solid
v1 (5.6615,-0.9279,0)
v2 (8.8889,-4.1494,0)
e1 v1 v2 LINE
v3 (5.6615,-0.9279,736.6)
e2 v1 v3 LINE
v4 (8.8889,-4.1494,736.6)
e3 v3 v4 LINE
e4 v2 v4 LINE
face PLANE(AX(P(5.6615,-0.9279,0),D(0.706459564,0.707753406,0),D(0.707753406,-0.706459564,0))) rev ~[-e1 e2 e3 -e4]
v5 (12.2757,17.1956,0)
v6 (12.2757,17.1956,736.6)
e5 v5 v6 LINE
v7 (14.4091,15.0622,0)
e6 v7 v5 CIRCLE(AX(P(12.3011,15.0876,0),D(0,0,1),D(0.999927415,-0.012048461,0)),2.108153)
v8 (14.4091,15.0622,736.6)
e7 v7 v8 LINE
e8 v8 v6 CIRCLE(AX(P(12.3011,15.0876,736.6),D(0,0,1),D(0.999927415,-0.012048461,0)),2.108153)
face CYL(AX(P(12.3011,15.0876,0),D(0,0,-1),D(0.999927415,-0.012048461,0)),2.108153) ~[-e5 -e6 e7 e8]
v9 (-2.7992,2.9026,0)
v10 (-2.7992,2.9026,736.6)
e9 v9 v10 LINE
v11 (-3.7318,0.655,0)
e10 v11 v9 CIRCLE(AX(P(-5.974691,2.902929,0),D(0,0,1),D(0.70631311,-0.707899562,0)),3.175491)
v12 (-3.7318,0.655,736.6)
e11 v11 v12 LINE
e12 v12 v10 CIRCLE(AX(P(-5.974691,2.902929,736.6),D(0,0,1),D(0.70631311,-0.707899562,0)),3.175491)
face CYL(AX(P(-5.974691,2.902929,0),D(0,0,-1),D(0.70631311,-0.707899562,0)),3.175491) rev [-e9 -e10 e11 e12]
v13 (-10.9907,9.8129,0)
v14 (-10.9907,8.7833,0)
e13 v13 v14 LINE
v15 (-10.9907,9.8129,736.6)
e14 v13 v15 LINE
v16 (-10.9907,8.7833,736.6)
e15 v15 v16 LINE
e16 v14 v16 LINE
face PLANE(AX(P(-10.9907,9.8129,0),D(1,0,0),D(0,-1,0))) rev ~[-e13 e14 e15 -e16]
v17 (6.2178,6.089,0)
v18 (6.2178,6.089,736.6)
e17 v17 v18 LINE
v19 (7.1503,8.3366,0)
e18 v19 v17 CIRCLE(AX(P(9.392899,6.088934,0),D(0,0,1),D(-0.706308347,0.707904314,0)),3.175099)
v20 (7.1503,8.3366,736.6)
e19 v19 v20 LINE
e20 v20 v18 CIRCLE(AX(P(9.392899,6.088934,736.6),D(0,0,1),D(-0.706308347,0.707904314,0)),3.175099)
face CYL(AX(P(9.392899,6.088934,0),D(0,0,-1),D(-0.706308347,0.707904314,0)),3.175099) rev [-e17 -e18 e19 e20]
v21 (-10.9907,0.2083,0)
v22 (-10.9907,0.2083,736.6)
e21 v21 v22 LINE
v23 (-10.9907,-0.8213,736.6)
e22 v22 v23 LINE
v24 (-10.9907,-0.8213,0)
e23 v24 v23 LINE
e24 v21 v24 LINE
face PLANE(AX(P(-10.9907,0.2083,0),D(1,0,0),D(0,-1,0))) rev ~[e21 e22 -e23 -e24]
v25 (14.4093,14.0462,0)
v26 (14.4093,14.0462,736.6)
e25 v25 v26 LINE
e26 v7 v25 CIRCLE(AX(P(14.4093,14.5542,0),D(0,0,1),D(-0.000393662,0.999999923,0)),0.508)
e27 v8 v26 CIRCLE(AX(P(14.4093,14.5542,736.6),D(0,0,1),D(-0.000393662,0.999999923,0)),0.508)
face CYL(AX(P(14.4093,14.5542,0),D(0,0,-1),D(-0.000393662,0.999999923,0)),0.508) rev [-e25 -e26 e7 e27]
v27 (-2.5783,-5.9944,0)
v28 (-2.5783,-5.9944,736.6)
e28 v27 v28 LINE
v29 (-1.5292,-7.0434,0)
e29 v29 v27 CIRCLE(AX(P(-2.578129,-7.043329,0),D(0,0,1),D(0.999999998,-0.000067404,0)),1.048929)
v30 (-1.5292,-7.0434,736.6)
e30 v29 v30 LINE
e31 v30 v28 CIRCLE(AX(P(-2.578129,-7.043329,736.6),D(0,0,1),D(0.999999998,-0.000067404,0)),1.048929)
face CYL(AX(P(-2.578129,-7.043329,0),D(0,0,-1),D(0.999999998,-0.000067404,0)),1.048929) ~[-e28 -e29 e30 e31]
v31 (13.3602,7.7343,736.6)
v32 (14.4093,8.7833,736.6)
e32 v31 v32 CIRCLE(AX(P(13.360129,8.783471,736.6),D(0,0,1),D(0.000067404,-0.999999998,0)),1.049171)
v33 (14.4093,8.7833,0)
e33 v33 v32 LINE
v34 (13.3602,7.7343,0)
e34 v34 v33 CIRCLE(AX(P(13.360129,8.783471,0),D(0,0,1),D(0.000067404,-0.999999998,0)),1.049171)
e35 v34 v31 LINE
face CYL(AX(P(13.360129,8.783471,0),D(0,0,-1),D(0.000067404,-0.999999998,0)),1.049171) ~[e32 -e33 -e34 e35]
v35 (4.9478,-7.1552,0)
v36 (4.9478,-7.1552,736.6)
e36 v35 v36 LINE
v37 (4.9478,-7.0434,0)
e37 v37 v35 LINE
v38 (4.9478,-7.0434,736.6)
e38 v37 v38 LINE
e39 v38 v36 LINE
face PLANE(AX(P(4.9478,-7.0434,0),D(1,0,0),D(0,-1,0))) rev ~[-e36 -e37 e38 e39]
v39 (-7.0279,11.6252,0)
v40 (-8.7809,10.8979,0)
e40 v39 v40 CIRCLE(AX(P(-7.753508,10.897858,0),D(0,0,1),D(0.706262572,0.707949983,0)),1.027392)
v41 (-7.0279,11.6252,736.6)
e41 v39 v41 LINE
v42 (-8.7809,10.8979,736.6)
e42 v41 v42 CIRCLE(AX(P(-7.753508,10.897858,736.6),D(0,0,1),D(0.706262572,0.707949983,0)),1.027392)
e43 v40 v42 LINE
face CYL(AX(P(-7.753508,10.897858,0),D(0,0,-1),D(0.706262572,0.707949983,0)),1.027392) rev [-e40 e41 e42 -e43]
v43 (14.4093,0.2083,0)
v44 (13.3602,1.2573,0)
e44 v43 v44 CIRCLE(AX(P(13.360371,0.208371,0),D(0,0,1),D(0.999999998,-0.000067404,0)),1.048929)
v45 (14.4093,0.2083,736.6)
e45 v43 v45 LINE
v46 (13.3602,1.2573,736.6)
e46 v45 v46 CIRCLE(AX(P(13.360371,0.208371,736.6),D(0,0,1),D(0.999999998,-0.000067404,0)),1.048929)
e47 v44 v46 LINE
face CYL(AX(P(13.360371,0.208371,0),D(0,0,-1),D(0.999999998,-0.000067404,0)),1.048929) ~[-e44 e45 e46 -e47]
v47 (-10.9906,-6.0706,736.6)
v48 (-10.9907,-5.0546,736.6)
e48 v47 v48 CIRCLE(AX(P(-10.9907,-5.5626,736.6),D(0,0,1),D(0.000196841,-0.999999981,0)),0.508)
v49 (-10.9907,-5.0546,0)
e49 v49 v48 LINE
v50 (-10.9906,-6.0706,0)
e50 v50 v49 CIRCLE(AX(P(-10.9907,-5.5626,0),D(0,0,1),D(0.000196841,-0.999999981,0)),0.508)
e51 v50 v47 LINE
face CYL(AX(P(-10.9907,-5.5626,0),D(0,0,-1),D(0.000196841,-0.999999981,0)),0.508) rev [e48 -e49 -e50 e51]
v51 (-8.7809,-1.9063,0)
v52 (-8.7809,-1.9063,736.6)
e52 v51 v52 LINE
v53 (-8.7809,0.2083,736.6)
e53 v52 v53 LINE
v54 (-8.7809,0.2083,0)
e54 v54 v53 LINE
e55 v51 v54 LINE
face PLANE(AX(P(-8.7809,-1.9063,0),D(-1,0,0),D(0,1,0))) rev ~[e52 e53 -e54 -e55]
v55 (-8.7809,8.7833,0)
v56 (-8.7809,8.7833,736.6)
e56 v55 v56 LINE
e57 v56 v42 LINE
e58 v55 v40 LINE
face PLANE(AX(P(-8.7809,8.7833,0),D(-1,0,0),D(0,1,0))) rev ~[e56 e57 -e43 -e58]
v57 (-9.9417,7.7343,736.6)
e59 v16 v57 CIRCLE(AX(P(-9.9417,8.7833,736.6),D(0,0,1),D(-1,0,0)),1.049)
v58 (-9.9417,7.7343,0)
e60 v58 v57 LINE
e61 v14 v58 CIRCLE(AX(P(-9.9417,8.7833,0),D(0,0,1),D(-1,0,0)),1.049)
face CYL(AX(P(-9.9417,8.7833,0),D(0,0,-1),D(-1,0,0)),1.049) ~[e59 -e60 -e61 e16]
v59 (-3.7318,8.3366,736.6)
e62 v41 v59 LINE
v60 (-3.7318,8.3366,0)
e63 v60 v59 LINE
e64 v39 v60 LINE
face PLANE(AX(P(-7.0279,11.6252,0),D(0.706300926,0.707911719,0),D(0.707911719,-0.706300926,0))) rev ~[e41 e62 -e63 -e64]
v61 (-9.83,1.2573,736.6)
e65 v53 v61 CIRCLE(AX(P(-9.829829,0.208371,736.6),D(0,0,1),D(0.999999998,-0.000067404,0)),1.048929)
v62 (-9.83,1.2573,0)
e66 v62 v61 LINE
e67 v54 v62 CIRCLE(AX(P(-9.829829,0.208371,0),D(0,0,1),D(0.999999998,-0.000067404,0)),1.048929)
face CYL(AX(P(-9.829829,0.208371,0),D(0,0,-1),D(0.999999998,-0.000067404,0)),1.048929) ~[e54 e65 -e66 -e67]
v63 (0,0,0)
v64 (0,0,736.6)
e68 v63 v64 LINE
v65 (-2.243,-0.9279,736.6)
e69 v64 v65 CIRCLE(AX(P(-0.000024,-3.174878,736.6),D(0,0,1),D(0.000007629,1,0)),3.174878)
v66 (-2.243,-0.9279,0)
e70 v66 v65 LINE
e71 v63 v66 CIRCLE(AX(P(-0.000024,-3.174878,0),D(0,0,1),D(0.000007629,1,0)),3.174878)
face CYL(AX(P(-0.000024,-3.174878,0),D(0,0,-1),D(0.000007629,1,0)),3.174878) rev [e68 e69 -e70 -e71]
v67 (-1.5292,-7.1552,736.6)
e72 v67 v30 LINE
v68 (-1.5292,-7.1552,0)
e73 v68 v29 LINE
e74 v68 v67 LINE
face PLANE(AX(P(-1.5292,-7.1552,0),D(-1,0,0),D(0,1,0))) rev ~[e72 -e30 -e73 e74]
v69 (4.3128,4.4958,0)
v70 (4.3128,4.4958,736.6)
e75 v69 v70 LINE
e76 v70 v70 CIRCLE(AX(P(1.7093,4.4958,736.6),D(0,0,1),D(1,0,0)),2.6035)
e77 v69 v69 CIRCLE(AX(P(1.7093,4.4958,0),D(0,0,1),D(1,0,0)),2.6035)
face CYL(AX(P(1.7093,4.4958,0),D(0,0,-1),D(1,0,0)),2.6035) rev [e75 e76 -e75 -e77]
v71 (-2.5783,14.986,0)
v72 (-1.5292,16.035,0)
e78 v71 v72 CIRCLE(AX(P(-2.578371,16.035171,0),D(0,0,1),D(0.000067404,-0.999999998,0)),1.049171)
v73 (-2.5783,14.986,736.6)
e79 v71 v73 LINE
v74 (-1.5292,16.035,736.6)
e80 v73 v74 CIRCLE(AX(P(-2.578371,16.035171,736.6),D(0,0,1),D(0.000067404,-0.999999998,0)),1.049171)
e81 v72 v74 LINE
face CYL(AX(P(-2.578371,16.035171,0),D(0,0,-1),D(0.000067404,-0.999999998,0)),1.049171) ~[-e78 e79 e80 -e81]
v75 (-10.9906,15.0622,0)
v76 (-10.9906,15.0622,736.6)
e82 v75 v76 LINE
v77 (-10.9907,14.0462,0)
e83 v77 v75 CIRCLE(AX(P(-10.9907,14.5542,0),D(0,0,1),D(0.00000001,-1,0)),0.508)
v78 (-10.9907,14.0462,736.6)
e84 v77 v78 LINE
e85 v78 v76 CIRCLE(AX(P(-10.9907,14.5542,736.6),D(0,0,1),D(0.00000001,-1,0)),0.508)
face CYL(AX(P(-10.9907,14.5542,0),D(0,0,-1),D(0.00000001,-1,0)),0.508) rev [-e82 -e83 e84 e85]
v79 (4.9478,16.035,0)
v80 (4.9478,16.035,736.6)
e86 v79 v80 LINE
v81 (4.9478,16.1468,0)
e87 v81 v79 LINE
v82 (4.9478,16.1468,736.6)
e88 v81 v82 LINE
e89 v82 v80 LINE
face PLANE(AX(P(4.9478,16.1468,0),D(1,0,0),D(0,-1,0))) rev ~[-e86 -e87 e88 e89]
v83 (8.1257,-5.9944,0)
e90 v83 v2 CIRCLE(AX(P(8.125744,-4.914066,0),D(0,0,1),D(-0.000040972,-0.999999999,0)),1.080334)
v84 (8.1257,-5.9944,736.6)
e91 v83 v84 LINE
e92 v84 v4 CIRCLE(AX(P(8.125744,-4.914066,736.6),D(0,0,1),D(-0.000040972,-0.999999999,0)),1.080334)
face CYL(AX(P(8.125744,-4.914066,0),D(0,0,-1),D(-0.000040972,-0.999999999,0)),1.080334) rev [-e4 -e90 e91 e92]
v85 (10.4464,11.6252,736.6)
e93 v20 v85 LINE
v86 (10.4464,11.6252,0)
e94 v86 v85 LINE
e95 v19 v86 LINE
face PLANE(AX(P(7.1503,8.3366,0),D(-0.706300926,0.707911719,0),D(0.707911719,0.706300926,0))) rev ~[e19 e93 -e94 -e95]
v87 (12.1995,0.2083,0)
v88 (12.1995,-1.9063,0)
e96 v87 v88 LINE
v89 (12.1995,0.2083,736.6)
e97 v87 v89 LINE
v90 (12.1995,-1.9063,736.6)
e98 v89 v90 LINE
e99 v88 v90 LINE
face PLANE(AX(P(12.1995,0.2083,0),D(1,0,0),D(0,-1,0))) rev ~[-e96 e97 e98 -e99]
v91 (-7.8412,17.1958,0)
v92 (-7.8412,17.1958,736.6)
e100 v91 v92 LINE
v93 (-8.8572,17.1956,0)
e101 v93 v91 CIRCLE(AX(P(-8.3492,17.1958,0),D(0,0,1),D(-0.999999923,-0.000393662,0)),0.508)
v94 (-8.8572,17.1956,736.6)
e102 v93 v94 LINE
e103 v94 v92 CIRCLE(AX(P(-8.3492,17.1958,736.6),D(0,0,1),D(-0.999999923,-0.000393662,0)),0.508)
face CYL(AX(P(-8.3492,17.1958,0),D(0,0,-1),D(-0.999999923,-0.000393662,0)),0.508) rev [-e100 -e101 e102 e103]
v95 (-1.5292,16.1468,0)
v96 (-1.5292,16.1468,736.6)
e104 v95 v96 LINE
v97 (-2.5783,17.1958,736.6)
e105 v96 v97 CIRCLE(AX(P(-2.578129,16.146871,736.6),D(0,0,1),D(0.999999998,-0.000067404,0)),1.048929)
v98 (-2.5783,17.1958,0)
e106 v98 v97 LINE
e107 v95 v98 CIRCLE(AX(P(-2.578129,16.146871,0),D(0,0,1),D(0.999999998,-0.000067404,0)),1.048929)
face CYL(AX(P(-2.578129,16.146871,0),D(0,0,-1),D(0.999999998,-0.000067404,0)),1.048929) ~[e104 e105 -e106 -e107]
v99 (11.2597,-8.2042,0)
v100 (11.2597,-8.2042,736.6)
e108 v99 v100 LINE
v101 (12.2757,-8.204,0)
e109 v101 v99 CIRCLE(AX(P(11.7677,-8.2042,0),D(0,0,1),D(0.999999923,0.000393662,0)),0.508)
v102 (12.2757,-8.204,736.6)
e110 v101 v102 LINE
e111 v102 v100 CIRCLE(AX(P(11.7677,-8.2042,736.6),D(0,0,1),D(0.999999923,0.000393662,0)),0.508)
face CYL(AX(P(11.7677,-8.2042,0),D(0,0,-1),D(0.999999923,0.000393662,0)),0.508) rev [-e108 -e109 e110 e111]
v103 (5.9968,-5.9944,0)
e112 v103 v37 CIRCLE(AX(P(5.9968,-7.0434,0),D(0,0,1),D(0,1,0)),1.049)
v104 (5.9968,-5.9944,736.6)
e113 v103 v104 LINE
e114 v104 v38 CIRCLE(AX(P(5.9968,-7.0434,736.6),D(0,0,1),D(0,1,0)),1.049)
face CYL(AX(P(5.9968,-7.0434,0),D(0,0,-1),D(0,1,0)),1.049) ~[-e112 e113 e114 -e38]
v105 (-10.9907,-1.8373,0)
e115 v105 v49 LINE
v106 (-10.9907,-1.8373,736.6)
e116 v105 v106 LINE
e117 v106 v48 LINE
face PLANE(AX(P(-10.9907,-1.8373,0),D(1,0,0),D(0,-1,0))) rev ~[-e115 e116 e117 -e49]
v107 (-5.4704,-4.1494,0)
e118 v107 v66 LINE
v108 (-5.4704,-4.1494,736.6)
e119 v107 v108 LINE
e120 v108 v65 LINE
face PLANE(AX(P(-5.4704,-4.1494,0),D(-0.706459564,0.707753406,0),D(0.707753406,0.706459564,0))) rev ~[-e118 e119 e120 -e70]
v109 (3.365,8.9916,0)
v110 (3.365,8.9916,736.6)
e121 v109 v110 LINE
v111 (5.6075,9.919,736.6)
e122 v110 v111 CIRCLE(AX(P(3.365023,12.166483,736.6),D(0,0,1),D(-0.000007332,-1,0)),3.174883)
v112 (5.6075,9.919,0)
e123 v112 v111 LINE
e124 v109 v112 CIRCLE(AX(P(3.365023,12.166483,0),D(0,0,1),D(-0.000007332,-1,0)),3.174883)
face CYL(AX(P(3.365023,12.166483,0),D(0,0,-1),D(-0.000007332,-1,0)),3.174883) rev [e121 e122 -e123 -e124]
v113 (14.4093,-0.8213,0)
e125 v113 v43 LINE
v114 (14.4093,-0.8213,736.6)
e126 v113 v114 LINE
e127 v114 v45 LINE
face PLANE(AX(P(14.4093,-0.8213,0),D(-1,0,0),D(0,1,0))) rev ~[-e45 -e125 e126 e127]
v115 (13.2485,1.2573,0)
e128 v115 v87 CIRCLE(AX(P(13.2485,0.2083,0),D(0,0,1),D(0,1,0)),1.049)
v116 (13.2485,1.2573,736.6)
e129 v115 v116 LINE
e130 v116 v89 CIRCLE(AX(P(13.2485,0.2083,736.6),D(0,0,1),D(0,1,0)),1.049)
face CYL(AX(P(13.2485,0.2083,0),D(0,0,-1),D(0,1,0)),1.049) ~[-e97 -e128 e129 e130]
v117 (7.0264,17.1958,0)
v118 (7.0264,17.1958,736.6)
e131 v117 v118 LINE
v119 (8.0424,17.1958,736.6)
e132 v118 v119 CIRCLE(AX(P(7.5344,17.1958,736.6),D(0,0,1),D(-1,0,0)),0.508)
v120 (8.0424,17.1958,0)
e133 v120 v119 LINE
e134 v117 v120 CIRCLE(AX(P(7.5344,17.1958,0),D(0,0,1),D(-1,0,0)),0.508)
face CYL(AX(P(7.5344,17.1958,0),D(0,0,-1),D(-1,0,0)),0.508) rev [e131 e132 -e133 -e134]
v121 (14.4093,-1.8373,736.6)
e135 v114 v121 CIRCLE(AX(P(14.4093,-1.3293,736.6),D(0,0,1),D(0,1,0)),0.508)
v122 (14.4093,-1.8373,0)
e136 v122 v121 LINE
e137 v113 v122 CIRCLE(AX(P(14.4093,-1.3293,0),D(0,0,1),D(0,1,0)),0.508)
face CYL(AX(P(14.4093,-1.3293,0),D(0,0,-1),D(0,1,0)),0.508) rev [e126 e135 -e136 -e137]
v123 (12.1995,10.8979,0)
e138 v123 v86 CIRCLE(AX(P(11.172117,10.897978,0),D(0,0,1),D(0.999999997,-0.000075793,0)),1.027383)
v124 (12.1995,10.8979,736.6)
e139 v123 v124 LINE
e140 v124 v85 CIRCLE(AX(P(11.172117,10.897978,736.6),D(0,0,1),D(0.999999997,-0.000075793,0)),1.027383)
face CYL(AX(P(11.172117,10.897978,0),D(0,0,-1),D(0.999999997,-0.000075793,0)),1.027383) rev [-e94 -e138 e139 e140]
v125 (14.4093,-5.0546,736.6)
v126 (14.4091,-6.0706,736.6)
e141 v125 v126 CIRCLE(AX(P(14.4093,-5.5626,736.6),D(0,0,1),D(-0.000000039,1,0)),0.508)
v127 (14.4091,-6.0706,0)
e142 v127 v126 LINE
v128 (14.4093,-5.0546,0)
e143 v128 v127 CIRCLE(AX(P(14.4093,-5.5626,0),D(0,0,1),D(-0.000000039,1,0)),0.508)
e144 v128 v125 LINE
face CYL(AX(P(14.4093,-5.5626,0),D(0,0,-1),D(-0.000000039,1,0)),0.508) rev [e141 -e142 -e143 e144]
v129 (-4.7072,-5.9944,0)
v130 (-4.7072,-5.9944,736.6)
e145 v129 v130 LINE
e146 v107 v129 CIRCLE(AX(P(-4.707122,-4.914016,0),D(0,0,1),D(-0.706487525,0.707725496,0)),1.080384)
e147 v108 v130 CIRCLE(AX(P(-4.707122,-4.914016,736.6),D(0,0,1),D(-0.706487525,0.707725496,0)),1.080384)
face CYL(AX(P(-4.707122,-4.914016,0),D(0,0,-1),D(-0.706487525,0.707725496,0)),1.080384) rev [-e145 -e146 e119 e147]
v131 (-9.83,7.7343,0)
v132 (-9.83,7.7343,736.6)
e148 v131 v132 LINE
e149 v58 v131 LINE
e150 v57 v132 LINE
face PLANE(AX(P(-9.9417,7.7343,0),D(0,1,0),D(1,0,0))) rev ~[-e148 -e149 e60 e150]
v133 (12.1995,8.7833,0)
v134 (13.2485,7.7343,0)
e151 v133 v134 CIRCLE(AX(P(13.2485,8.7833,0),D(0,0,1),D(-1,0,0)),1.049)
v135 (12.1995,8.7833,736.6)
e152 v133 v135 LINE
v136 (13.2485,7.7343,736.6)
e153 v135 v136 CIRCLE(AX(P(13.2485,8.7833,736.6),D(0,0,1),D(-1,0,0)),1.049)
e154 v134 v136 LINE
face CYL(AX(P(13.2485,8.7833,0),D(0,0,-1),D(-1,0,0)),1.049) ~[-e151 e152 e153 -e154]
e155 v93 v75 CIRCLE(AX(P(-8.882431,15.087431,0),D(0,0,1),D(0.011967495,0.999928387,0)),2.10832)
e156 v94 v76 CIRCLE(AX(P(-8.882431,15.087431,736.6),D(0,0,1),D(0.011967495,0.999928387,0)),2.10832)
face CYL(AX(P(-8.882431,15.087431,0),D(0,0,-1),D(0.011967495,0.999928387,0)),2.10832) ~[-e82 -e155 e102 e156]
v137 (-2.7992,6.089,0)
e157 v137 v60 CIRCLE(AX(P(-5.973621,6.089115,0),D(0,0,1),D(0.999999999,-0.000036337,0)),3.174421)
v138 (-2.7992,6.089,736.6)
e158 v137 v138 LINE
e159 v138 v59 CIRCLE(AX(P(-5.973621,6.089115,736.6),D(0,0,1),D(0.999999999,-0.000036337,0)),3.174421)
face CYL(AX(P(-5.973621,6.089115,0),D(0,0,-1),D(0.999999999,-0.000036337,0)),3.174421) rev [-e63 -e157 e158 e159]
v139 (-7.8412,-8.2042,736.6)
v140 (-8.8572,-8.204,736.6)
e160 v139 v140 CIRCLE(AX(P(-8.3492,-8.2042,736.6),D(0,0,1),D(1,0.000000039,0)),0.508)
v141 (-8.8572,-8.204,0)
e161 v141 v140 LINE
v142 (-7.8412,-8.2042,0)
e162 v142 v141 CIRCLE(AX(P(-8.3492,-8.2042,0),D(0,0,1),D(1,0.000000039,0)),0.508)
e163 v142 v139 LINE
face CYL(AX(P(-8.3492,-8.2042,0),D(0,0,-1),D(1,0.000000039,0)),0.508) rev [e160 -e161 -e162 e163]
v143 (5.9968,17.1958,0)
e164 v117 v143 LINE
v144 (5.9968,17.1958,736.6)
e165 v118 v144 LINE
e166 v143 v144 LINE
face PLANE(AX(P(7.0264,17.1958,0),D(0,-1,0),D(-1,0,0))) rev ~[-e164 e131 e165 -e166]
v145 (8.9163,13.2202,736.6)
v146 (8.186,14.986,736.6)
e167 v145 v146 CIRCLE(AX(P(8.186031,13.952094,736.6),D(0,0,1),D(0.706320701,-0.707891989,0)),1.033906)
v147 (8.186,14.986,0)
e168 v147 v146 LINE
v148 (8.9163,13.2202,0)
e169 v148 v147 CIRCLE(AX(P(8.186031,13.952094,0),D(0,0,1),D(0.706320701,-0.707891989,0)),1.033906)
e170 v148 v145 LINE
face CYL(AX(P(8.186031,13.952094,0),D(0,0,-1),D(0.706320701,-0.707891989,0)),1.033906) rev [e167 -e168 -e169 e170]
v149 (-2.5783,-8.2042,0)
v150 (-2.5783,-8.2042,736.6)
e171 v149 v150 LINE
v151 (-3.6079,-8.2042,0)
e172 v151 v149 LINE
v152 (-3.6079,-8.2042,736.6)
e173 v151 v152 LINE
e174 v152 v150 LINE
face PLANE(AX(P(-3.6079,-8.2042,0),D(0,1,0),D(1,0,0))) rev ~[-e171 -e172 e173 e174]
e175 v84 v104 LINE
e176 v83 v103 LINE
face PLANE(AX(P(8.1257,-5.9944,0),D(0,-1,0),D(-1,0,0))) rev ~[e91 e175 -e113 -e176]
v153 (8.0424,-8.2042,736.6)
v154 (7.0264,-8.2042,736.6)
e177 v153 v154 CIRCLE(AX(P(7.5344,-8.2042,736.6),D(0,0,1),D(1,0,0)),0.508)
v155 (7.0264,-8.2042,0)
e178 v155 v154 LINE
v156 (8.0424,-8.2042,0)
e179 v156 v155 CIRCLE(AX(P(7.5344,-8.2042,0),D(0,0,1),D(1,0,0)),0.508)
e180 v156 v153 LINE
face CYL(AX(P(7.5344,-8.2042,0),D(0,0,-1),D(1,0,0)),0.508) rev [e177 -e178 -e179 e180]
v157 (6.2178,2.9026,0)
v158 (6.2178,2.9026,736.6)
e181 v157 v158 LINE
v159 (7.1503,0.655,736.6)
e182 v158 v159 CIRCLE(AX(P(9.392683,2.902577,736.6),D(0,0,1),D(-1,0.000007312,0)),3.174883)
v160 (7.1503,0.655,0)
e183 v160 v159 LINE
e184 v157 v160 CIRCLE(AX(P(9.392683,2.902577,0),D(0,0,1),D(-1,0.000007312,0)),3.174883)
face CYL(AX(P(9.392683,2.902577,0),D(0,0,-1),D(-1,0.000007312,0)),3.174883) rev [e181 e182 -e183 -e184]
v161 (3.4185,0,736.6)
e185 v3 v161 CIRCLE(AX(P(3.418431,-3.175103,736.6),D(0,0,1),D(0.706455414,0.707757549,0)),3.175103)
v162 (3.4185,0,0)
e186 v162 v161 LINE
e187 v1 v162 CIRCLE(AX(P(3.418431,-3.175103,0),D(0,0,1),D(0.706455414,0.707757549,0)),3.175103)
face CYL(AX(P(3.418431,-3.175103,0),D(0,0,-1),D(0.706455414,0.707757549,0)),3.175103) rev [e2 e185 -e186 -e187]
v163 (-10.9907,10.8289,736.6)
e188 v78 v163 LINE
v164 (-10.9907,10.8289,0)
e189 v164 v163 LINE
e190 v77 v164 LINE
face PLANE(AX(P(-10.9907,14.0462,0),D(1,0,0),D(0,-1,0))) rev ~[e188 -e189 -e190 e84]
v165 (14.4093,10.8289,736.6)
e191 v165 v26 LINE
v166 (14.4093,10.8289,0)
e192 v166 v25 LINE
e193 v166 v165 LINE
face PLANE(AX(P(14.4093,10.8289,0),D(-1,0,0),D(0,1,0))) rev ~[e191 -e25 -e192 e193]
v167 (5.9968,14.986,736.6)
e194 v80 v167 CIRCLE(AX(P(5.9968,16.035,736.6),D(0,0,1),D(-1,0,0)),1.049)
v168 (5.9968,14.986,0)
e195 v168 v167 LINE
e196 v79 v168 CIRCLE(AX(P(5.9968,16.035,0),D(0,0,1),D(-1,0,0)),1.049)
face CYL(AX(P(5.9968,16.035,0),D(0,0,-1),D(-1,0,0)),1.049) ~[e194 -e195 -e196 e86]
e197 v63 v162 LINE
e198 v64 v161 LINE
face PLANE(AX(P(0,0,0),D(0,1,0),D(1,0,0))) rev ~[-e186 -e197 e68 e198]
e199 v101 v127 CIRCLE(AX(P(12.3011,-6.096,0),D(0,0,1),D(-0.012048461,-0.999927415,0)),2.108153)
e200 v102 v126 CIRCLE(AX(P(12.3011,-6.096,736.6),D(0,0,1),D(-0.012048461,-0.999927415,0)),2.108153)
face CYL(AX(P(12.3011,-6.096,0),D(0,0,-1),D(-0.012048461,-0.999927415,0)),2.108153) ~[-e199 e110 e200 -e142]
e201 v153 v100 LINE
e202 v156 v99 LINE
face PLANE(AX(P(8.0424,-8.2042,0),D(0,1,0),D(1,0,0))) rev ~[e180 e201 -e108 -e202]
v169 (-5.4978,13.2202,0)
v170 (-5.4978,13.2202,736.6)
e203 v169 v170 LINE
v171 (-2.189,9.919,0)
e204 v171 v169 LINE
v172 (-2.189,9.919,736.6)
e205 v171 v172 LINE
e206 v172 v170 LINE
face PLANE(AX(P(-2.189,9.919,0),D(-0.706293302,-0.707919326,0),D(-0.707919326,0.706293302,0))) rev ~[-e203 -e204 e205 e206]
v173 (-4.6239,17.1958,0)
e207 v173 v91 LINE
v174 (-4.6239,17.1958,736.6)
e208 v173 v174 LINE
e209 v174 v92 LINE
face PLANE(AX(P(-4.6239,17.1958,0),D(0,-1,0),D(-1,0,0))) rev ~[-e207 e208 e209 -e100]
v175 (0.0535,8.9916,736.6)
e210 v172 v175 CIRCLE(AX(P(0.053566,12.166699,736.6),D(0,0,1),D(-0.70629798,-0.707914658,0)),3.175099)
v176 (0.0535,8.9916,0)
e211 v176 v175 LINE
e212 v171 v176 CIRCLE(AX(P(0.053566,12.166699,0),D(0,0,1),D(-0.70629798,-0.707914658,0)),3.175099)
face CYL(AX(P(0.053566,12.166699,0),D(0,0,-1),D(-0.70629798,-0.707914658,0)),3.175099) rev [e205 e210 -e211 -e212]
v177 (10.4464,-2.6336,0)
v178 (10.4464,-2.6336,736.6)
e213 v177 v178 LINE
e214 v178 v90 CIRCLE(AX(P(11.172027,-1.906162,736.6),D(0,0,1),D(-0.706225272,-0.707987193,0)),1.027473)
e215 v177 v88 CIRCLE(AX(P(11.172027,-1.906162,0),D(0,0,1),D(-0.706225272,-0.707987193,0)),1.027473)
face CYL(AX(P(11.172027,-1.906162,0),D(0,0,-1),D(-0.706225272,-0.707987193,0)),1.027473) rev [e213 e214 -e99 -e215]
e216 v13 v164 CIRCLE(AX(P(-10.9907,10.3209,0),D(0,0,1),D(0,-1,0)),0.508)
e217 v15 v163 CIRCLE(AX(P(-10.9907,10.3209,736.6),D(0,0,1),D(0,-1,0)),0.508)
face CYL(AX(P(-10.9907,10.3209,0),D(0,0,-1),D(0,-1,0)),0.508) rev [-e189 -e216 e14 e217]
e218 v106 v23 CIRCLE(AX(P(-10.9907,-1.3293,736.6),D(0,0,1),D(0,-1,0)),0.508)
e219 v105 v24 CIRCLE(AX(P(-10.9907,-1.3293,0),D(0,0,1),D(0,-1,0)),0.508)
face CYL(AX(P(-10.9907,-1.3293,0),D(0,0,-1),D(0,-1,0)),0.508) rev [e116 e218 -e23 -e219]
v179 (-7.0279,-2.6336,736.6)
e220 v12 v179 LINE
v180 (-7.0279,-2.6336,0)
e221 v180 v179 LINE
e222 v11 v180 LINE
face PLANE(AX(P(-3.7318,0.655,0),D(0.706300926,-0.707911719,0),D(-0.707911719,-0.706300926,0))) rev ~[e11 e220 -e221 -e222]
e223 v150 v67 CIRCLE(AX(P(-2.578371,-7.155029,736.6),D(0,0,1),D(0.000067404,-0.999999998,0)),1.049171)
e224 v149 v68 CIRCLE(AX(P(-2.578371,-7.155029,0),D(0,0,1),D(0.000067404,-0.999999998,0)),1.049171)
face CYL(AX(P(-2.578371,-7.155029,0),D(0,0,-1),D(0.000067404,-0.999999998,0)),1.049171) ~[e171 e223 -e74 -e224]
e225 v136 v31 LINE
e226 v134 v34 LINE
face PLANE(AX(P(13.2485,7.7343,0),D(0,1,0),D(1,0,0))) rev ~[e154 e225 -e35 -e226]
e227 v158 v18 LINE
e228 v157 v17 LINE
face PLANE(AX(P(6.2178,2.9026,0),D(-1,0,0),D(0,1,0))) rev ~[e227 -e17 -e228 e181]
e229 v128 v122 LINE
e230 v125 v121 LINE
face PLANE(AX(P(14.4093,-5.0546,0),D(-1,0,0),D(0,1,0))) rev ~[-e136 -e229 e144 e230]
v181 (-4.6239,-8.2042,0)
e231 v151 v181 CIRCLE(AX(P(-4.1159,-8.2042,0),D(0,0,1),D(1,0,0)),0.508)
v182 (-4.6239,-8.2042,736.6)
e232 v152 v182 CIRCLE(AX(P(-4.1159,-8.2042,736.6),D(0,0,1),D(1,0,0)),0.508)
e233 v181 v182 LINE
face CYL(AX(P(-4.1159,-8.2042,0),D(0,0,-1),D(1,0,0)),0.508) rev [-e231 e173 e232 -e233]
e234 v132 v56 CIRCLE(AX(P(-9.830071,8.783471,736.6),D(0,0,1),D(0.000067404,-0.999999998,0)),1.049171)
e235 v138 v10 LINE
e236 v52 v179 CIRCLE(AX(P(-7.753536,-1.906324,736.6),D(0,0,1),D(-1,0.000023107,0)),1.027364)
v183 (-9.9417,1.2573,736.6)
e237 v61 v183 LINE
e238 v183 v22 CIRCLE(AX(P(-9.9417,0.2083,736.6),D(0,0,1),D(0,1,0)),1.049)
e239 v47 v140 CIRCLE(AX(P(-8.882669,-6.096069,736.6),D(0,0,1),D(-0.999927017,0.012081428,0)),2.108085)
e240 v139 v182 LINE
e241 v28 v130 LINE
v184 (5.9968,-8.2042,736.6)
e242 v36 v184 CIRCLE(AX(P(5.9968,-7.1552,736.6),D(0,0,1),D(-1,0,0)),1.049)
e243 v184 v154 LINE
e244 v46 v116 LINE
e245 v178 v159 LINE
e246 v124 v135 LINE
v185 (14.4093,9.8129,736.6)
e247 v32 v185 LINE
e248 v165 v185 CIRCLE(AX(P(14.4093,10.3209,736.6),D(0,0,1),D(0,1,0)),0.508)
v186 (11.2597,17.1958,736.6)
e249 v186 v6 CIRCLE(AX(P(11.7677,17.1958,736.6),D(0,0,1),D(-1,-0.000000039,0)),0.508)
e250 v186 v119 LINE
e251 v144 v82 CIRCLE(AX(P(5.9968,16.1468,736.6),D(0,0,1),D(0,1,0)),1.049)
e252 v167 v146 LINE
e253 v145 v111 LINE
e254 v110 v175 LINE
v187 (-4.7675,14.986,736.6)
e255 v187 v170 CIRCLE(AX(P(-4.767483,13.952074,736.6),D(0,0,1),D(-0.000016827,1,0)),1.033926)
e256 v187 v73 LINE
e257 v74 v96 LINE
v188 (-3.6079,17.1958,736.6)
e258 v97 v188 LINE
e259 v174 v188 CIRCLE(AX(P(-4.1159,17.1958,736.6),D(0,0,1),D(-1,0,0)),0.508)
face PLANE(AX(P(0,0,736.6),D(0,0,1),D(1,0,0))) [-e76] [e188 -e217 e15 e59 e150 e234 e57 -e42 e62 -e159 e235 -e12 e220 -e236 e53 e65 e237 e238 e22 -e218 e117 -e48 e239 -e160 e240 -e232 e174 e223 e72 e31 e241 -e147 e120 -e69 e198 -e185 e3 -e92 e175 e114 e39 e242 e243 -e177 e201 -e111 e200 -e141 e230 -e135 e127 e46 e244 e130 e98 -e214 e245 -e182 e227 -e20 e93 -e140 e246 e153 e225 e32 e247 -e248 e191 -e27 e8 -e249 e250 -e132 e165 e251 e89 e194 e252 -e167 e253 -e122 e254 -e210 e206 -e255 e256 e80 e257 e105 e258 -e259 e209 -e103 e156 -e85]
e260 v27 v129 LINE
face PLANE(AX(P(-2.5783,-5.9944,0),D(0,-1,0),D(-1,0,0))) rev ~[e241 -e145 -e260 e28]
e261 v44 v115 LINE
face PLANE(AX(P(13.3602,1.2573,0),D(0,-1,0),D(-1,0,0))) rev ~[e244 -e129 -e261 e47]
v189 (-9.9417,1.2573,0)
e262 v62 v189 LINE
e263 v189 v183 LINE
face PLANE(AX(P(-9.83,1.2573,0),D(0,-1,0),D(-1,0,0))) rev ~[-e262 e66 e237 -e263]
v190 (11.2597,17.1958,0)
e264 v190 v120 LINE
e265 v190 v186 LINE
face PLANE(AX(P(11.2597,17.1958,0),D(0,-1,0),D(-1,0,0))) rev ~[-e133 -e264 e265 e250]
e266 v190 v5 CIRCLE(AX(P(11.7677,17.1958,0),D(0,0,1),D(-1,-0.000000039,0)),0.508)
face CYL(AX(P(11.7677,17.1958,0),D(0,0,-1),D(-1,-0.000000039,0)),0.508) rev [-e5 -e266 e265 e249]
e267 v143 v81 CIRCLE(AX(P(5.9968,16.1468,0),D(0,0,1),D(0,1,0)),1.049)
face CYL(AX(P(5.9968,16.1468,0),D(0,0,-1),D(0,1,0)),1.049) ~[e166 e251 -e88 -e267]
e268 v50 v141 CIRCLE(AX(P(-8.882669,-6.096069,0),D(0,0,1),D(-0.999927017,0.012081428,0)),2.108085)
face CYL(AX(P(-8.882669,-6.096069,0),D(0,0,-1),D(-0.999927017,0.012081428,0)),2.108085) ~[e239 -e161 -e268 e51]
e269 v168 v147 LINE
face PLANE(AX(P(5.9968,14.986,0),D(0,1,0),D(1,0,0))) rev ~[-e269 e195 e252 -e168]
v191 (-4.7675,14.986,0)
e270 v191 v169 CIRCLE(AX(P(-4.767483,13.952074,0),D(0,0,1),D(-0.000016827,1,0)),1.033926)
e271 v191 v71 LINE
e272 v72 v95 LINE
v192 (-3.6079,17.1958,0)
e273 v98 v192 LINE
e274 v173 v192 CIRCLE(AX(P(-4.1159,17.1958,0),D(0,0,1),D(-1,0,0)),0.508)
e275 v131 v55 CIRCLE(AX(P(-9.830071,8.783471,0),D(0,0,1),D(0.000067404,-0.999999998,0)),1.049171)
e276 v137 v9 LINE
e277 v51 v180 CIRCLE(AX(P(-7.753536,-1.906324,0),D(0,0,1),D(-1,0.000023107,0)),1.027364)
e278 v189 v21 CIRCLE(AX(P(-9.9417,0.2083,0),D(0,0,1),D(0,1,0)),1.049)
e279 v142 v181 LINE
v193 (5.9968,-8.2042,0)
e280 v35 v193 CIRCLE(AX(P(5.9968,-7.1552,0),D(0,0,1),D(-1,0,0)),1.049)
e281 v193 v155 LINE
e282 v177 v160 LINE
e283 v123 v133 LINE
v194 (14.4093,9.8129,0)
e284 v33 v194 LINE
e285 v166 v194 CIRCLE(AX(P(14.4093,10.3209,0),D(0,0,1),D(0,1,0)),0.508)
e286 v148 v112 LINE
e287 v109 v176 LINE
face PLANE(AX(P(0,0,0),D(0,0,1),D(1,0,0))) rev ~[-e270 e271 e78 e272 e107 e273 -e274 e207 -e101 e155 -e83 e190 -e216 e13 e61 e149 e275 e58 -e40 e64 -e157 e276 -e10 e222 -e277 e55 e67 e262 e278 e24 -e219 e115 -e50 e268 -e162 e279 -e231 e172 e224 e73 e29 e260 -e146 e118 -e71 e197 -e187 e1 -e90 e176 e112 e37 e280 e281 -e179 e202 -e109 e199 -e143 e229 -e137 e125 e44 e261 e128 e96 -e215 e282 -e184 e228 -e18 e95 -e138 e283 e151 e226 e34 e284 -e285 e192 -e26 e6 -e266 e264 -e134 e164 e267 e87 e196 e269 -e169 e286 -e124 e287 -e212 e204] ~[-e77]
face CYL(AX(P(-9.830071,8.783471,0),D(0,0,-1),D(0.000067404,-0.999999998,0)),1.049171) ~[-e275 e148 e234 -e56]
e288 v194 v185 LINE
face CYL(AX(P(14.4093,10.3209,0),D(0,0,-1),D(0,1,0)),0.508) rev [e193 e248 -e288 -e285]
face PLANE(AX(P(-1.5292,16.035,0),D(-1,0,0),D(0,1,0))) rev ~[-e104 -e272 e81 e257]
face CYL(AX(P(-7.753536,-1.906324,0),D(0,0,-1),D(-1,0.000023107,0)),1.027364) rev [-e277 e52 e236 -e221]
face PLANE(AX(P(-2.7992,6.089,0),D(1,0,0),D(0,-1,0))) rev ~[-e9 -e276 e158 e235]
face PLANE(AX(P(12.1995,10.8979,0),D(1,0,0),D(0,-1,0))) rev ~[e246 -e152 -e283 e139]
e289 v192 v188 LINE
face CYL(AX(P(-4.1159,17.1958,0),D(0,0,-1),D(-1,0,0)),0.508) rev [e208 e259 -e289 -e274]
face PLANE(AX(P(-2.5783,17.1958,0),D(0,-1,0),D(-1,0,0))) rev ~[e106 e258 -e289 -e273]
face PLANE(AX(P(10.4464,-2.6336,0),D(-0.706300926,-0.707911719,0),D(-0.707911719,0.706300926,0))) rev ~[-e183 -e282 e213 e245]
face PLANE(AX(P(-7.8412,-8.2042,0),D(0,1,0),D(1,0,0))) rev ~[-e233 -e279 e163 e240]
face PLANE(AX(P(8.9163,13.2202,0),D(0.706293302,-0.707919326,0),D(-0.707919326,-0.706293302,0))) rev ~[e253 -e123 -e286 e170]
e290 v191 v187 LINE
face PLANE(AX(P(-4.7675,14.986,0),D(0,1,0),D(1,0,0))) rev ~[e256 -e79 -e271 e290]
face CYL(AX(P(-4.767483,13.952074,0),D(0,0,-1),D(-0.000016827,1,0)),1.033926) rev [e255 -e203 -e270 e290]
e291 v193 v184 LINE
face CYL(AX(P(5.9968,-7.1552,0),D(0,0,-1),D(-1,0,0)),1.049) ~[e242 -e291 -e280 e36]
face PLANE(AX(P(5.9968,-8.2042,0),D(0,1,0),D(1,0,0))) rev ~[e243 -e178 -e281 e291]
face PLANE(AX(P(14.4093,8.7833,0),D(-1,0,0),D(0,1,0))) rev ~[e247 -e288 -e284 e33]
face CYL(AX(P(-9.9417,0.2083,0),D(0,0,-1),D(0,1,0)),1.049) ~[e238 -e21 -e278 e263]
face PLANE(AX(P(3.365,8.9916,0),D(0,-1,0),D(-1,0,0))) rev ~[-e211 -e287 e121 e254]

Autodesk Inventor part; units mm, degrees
ref_plane "YZ Plane" through (0, 0, 0) normal (1, 0, 0) x (0, 1, 0)
ref_plane "XZ Plane" through (0, 0, 0) normal (0, 1, 0) x (-1, 0, 0)
ref_plane "XY Plane" through (0, 0, 0) normal (0, 0, 1) x (1, 0, 0)
sketch "Sketch1" plane through (0, 0, 0) normal (0, 0, 1) x (1, 0, 0)
  arc A0 (-5.4704, -4.1494) -> (-4.7072, -5.9944) centre (-4.7072, -4.914) ccw
  line L0 (-5.4704, -4.1494) -> (-2.243, -0.9279)
  arc A1 (0, 0) -> (-2.243, -0.9279) centre (0, -3.175) ccw
  line L1 (0, 0) -> (3.4185, 0)
  arc A2 (5.6615, -0.9279) -> (3.4185, 0) centre (3.4185, -3.175) ccw
  line L2 (5.6615, -0.9279) -> (8.8889, -4.1494)
  arc A3 (8.1257, -5.9944) -> (8.8889, -4.1494) centre (8.1257, -4.914) ccw
  line L3 (8.1257, -5.9944) -> (5.9968, -5.9944)
  arc A4 (5.9968, -5.9944) -> (4.9478, -7.0434) centre (5.9968, -7.0434) ccw
  line L4 (4.9478, -7.0434) -> (4.9478, -7.1552)
  arc A5 (4.9478, -7.1552) -> (5.9968, -8.2042) centre (5.9968, -7.1552) ccw
  line L5 (5.9968, -8.2042) -> (7.0264, -8.2042)
  arc A6 (8.0424, -8.2042) -> (7.0264, -8.2042) centre (7.5344, -8.2042) ccw
  line L6 (8.0424, -8.2042) -> (11.2597, -8.2042)
  arc A7 (12.2757, -8.204) -> (11.2597, -8.2042) centre (11.7677, -8.2042) ccw
  arc A8 (12.2757, -8.204) -> (14.4091, -6.0706) centre (12.3011, -6.096) ccw
  arc A9 (14.4093, -5.0546) -> (14.4091, -6.0706) centre (14.4093, -5.5626) ccw
  line L7 (14.4093, -5.0546) -> (14.4093, -1.8373)
  arc A10 (14.4093, -0.8213) -> (14.4093, -1.8373) centre (14.4093, -1.3293) ccw
  line L8 (14.4093, -0.8213) -> (14.4093, 0.2083)
  arc A11 (14.4093, 0.2083) -> (13.3602, 1.2573) centre (13.3602, 0.2083) ccw
  line L9 (13.3602, 1.2573) -> (13.2485, 1.2573)
  arc A12 (13.2485, 1.2573) -> (12.1995, 0.2083) centre (13.2485, 0.2083) ccw
  line L10 (12.1995, 0.2083) -> (12.1995, -1.9063)
  arc A13 (10.4464, -2.6336) -> (12.1995, -1.9063) centre (11.172, -1.9063) ccw
  line L11 (10.4464, -2.6336) -> (7.1503, 0.655)
  arc A14 (6.2178, 2.9026) -> (7.1503, 0.655) centre (9.3928, 2.9026) ccw
  line L12 (6.2178, 2.9026) -> (6.2178, 6.089)
  arc A15 (7.1503, 8.3366) -> (6.2178, 6.089) centre (9.3928, 6.089) ccw
  line L13 (7.1503, 8.3366) -> (10.4464, 11.6252)
  arc A16 (12.1995, 10.8979) -> (10.4464, 11.6252) centre (11.172, 10.8979) ccw
  line L14 (12.1995, 10.8979) -> (12.1995, 8.7833)
  arc A17 (12.1995, 8.7833) -> (13.2485, 7.7343) centre (13.2485, 8.7833) ccw
  line L15 (13.2485, 7.7343) -> (13.3602, 7.7343)
  arc A18 (13.3602, 7.7343) -> (14.4093, 8.7833) centre (13.3602, 8.7833) ccw
  line L16 (14.4093, 8.7833) -> (14.4093, 9.8129)
  arc A19 (14.4093, 10.8289) -> (14.4093, 9.8129) centre (14.4093, 10.3209) ccw
  line L17 (14.4093, 10.8289) -> (14.4093, 14.0462)
  arc A20 (14.4091, 15.0622) -> (14.4093, 14.0462) centre (14.4093, 14.5542) ccw
  arc A21 (14.4091, 15.0622) -> (12.2757, 17.1956) centre (12.3011, 15.0876) ccw
  arc A22 (11.2597, 17.1958) -> (12.2757, 17.1956) centre (11.7677, 17.1958) ccw
  line L18 (11.2597, 17.1958) -> (8.0424, 17.1958)
  arc A23 (7.0264, 17.1958) -> (8.0424, 17.1958) centre (7.5344, 17.1958) ccw
  line L19 (7.0264, 17.1958) -> (5.9968, 17.1958)
  arc A24 (5.9968, 17.1958) -> (4.9478, 16.1468) centre (5.9968, 16.1468) ccw
  line L20 (4.9478, 16.1468) -> (4.9478, 16.035)
  arc A25 (4.9478, 16.035) -> (5.9968, 14.986) centre (5.9968, 16.035) ccw
  line L21 (5.9968, 14.986) -> (8.186, 14.986)
  arc A26 (8.9163, 13.2202) -> (8.186, 14.986) centre (8.186, 13.9521) ccw
  line L22 (8.9163, 13.2202) -> (5.6075, 9.919)
  arc A27 (3.365, 8.9916) -> (5.6075, 9.919) centre (3.365, 12.1666) ccw
  line L23 (3.365, 8.9916) -> (0.0535, 8.9916)
  arc A28 (-2.189, 9.919) -> (0.0535, 8.9916) centre (0.0535, 12.1666) ccw
  line L24 (-2.189, 9.919) -> (-5.4978, 13.2202)
  arc A29 (-4.7675, 14.986) -> (-5.4978, 13.2202) centre (-4.7675, 13.9521) ccw
  line L25 (-4.7675, 14.986) -> (-2.5783, 14.986)
  arc A30 (-2.5783, 14.986) -> (-1.5292, 16.035) centre (-2.5783, 16.035) ccw
  line L26 (-1.5292, 16.035) -> (-1.5292, 16.1468)
  arc A31 (-1.5292, 16.1468) -> (-2.5783, 17.1958) centre (-2.5783, 16.1468) ccw
  line L27 (-2.5783, 17.1958) -> (-3.6079, 17.1958)
  arc A32 (-4.6239, 17.1958) -> (-3.6079, 17.1958) centre (-4.1159, 17.1958) ccw
  line L28 (-4.6239, 17.1958) -> (-7.8412, 17.1958)
  arc A33 (-8.8572, 17.1956) -> (-7.8412, 17.1958) centre (-8.3492, 17.1958) ccw
  arc A34 (-8.8572, 17.1956) -> (-10.9906, 15.0622) centre (-8.8825, 15.0876) ccw
  arc A35 (-10.9907, 14.0462) -> (-10.9906, 15.0622) centre (-10.9907, 14.5542) ccw
  line L29 (-10.9907, 14.0462) -> (-10.9907, 10.8289)
  arc A36 (-10.9907, 9.8129) -> (-10.9907, 10.8289) centre (-10.9907, 10.3209) ccw
  line L30 (-10.9907, 9.8129) -> (-10.9907, 8.7833)
  arc A37 (-10.9907, 8.7833) -> (-9.9417, 7.7343) centre (-9.9417, 8.7833) ccw
  line L31 (-9.9417, 7.7343) -> (-9.83, 7.7343)
  arc A38 (-9.83, 7.7343) -> (-8.7809, 8.7833) centre (-9.83, 8.7833) ccw
  line L32 (-8.7809, 8.7833) -> (-8.7809, 10.8979)
  arc A39 (-7.0279, 11.6252) -> (-8.7809, 10.8979) centre (-7.7535, 10.8979) ccw
  line L33 (-7.0279, 11.6252) -> (-3.7318, 8.3366)
  arc A40 (-2.7992, 6.089) -> (-3.7318, 8.3366) centre (-5.9742, 6.089) ccw
  line L34 (-2.7992, 6.089) -> (-2.7992, 2.9026)
  arc A41 (-3.7318, 0.655) -> (-2.7992, 2.9026) centre (-5.9742, 2.9026) ccw
  line L35 (-3.7318, 0.655) -> (-7.0279, -2.6336)
  arc A42 (-8.7809, -1.9063) -> (-7.0279, -2.6336) centre (-7.7535, -1.9063) ccw
  line L36 (-8.7809, -1.9063) -> (-8.7809, 0.2083)
  arc A43 (-8.7809, 0.2083) -> (-9.83, 1.2573) centre (-9.83, 0.2083) ccw
  line L37 (-9.83, 1.2573) -> (-9.9417, 1.2573)
  arc A44 (-9.9417, 1.2573) -> (-10.9907, 0.2083) centre (-9.9417, 0.2083) ccw
  line L38 (-10.9907, 0.2083) -> (-10.9907, -0.8213)
  arc A45 (-10.9907, -1.8373) -> (-10.9907, -0.8213) centre (-10.9907, -1.3293) ccw
  line L39 (-10.9907, -1.8373) -> (-10.9907, -5.0546)
  arc A46 (-10.9906, -6.0706) -> (-10.9907, -5.0546) centre (-10.9907, -5.5626) ccw
  arc A47 (-10.9906, -6.0706) -> (-8.8572, -8.204) centre (-8.8825, -6.096) ccw
  arc A48 (-7.8412, -8.2042) -> (-8.8572, -8.204) centre (-8.3492, -8.2042) ccw
  line L40 (-7.8412, -8.2042) -> (-4.6239, -8.2042)
  arc A49 (-3.6079, -8.2042) -> (-4.6239, -8.2042) centre (-4.1159, -8.2042) ccw
  line L41 (-3.6079, -8.2042) -> (-2.5783, -8.2042)
  arc A50 (-2.5783, -8.2042) -> (-1.5292, -7.1552) centre (-2.5783, -7.1552) ccw
  line L42 (-1.5292, -7.1552) -> (-1.5292, -7.0434)
  arc A51 (-1.5292, -7.0434) -> (-2.5783, -5.9944) centre (-2.5783, -7.0434) ccw
  line L43 (-2.5783, -5.9944) -> (-4.7072, -5.9944)
  circle A52 centre (1.7093, 4.4958) radius 2.6035
extrude "Extrusion1" add sketch "Sketch1" along normal blind 736.6
properties part number "29 in 1x1 T slot" material "Steel, Alloy"
